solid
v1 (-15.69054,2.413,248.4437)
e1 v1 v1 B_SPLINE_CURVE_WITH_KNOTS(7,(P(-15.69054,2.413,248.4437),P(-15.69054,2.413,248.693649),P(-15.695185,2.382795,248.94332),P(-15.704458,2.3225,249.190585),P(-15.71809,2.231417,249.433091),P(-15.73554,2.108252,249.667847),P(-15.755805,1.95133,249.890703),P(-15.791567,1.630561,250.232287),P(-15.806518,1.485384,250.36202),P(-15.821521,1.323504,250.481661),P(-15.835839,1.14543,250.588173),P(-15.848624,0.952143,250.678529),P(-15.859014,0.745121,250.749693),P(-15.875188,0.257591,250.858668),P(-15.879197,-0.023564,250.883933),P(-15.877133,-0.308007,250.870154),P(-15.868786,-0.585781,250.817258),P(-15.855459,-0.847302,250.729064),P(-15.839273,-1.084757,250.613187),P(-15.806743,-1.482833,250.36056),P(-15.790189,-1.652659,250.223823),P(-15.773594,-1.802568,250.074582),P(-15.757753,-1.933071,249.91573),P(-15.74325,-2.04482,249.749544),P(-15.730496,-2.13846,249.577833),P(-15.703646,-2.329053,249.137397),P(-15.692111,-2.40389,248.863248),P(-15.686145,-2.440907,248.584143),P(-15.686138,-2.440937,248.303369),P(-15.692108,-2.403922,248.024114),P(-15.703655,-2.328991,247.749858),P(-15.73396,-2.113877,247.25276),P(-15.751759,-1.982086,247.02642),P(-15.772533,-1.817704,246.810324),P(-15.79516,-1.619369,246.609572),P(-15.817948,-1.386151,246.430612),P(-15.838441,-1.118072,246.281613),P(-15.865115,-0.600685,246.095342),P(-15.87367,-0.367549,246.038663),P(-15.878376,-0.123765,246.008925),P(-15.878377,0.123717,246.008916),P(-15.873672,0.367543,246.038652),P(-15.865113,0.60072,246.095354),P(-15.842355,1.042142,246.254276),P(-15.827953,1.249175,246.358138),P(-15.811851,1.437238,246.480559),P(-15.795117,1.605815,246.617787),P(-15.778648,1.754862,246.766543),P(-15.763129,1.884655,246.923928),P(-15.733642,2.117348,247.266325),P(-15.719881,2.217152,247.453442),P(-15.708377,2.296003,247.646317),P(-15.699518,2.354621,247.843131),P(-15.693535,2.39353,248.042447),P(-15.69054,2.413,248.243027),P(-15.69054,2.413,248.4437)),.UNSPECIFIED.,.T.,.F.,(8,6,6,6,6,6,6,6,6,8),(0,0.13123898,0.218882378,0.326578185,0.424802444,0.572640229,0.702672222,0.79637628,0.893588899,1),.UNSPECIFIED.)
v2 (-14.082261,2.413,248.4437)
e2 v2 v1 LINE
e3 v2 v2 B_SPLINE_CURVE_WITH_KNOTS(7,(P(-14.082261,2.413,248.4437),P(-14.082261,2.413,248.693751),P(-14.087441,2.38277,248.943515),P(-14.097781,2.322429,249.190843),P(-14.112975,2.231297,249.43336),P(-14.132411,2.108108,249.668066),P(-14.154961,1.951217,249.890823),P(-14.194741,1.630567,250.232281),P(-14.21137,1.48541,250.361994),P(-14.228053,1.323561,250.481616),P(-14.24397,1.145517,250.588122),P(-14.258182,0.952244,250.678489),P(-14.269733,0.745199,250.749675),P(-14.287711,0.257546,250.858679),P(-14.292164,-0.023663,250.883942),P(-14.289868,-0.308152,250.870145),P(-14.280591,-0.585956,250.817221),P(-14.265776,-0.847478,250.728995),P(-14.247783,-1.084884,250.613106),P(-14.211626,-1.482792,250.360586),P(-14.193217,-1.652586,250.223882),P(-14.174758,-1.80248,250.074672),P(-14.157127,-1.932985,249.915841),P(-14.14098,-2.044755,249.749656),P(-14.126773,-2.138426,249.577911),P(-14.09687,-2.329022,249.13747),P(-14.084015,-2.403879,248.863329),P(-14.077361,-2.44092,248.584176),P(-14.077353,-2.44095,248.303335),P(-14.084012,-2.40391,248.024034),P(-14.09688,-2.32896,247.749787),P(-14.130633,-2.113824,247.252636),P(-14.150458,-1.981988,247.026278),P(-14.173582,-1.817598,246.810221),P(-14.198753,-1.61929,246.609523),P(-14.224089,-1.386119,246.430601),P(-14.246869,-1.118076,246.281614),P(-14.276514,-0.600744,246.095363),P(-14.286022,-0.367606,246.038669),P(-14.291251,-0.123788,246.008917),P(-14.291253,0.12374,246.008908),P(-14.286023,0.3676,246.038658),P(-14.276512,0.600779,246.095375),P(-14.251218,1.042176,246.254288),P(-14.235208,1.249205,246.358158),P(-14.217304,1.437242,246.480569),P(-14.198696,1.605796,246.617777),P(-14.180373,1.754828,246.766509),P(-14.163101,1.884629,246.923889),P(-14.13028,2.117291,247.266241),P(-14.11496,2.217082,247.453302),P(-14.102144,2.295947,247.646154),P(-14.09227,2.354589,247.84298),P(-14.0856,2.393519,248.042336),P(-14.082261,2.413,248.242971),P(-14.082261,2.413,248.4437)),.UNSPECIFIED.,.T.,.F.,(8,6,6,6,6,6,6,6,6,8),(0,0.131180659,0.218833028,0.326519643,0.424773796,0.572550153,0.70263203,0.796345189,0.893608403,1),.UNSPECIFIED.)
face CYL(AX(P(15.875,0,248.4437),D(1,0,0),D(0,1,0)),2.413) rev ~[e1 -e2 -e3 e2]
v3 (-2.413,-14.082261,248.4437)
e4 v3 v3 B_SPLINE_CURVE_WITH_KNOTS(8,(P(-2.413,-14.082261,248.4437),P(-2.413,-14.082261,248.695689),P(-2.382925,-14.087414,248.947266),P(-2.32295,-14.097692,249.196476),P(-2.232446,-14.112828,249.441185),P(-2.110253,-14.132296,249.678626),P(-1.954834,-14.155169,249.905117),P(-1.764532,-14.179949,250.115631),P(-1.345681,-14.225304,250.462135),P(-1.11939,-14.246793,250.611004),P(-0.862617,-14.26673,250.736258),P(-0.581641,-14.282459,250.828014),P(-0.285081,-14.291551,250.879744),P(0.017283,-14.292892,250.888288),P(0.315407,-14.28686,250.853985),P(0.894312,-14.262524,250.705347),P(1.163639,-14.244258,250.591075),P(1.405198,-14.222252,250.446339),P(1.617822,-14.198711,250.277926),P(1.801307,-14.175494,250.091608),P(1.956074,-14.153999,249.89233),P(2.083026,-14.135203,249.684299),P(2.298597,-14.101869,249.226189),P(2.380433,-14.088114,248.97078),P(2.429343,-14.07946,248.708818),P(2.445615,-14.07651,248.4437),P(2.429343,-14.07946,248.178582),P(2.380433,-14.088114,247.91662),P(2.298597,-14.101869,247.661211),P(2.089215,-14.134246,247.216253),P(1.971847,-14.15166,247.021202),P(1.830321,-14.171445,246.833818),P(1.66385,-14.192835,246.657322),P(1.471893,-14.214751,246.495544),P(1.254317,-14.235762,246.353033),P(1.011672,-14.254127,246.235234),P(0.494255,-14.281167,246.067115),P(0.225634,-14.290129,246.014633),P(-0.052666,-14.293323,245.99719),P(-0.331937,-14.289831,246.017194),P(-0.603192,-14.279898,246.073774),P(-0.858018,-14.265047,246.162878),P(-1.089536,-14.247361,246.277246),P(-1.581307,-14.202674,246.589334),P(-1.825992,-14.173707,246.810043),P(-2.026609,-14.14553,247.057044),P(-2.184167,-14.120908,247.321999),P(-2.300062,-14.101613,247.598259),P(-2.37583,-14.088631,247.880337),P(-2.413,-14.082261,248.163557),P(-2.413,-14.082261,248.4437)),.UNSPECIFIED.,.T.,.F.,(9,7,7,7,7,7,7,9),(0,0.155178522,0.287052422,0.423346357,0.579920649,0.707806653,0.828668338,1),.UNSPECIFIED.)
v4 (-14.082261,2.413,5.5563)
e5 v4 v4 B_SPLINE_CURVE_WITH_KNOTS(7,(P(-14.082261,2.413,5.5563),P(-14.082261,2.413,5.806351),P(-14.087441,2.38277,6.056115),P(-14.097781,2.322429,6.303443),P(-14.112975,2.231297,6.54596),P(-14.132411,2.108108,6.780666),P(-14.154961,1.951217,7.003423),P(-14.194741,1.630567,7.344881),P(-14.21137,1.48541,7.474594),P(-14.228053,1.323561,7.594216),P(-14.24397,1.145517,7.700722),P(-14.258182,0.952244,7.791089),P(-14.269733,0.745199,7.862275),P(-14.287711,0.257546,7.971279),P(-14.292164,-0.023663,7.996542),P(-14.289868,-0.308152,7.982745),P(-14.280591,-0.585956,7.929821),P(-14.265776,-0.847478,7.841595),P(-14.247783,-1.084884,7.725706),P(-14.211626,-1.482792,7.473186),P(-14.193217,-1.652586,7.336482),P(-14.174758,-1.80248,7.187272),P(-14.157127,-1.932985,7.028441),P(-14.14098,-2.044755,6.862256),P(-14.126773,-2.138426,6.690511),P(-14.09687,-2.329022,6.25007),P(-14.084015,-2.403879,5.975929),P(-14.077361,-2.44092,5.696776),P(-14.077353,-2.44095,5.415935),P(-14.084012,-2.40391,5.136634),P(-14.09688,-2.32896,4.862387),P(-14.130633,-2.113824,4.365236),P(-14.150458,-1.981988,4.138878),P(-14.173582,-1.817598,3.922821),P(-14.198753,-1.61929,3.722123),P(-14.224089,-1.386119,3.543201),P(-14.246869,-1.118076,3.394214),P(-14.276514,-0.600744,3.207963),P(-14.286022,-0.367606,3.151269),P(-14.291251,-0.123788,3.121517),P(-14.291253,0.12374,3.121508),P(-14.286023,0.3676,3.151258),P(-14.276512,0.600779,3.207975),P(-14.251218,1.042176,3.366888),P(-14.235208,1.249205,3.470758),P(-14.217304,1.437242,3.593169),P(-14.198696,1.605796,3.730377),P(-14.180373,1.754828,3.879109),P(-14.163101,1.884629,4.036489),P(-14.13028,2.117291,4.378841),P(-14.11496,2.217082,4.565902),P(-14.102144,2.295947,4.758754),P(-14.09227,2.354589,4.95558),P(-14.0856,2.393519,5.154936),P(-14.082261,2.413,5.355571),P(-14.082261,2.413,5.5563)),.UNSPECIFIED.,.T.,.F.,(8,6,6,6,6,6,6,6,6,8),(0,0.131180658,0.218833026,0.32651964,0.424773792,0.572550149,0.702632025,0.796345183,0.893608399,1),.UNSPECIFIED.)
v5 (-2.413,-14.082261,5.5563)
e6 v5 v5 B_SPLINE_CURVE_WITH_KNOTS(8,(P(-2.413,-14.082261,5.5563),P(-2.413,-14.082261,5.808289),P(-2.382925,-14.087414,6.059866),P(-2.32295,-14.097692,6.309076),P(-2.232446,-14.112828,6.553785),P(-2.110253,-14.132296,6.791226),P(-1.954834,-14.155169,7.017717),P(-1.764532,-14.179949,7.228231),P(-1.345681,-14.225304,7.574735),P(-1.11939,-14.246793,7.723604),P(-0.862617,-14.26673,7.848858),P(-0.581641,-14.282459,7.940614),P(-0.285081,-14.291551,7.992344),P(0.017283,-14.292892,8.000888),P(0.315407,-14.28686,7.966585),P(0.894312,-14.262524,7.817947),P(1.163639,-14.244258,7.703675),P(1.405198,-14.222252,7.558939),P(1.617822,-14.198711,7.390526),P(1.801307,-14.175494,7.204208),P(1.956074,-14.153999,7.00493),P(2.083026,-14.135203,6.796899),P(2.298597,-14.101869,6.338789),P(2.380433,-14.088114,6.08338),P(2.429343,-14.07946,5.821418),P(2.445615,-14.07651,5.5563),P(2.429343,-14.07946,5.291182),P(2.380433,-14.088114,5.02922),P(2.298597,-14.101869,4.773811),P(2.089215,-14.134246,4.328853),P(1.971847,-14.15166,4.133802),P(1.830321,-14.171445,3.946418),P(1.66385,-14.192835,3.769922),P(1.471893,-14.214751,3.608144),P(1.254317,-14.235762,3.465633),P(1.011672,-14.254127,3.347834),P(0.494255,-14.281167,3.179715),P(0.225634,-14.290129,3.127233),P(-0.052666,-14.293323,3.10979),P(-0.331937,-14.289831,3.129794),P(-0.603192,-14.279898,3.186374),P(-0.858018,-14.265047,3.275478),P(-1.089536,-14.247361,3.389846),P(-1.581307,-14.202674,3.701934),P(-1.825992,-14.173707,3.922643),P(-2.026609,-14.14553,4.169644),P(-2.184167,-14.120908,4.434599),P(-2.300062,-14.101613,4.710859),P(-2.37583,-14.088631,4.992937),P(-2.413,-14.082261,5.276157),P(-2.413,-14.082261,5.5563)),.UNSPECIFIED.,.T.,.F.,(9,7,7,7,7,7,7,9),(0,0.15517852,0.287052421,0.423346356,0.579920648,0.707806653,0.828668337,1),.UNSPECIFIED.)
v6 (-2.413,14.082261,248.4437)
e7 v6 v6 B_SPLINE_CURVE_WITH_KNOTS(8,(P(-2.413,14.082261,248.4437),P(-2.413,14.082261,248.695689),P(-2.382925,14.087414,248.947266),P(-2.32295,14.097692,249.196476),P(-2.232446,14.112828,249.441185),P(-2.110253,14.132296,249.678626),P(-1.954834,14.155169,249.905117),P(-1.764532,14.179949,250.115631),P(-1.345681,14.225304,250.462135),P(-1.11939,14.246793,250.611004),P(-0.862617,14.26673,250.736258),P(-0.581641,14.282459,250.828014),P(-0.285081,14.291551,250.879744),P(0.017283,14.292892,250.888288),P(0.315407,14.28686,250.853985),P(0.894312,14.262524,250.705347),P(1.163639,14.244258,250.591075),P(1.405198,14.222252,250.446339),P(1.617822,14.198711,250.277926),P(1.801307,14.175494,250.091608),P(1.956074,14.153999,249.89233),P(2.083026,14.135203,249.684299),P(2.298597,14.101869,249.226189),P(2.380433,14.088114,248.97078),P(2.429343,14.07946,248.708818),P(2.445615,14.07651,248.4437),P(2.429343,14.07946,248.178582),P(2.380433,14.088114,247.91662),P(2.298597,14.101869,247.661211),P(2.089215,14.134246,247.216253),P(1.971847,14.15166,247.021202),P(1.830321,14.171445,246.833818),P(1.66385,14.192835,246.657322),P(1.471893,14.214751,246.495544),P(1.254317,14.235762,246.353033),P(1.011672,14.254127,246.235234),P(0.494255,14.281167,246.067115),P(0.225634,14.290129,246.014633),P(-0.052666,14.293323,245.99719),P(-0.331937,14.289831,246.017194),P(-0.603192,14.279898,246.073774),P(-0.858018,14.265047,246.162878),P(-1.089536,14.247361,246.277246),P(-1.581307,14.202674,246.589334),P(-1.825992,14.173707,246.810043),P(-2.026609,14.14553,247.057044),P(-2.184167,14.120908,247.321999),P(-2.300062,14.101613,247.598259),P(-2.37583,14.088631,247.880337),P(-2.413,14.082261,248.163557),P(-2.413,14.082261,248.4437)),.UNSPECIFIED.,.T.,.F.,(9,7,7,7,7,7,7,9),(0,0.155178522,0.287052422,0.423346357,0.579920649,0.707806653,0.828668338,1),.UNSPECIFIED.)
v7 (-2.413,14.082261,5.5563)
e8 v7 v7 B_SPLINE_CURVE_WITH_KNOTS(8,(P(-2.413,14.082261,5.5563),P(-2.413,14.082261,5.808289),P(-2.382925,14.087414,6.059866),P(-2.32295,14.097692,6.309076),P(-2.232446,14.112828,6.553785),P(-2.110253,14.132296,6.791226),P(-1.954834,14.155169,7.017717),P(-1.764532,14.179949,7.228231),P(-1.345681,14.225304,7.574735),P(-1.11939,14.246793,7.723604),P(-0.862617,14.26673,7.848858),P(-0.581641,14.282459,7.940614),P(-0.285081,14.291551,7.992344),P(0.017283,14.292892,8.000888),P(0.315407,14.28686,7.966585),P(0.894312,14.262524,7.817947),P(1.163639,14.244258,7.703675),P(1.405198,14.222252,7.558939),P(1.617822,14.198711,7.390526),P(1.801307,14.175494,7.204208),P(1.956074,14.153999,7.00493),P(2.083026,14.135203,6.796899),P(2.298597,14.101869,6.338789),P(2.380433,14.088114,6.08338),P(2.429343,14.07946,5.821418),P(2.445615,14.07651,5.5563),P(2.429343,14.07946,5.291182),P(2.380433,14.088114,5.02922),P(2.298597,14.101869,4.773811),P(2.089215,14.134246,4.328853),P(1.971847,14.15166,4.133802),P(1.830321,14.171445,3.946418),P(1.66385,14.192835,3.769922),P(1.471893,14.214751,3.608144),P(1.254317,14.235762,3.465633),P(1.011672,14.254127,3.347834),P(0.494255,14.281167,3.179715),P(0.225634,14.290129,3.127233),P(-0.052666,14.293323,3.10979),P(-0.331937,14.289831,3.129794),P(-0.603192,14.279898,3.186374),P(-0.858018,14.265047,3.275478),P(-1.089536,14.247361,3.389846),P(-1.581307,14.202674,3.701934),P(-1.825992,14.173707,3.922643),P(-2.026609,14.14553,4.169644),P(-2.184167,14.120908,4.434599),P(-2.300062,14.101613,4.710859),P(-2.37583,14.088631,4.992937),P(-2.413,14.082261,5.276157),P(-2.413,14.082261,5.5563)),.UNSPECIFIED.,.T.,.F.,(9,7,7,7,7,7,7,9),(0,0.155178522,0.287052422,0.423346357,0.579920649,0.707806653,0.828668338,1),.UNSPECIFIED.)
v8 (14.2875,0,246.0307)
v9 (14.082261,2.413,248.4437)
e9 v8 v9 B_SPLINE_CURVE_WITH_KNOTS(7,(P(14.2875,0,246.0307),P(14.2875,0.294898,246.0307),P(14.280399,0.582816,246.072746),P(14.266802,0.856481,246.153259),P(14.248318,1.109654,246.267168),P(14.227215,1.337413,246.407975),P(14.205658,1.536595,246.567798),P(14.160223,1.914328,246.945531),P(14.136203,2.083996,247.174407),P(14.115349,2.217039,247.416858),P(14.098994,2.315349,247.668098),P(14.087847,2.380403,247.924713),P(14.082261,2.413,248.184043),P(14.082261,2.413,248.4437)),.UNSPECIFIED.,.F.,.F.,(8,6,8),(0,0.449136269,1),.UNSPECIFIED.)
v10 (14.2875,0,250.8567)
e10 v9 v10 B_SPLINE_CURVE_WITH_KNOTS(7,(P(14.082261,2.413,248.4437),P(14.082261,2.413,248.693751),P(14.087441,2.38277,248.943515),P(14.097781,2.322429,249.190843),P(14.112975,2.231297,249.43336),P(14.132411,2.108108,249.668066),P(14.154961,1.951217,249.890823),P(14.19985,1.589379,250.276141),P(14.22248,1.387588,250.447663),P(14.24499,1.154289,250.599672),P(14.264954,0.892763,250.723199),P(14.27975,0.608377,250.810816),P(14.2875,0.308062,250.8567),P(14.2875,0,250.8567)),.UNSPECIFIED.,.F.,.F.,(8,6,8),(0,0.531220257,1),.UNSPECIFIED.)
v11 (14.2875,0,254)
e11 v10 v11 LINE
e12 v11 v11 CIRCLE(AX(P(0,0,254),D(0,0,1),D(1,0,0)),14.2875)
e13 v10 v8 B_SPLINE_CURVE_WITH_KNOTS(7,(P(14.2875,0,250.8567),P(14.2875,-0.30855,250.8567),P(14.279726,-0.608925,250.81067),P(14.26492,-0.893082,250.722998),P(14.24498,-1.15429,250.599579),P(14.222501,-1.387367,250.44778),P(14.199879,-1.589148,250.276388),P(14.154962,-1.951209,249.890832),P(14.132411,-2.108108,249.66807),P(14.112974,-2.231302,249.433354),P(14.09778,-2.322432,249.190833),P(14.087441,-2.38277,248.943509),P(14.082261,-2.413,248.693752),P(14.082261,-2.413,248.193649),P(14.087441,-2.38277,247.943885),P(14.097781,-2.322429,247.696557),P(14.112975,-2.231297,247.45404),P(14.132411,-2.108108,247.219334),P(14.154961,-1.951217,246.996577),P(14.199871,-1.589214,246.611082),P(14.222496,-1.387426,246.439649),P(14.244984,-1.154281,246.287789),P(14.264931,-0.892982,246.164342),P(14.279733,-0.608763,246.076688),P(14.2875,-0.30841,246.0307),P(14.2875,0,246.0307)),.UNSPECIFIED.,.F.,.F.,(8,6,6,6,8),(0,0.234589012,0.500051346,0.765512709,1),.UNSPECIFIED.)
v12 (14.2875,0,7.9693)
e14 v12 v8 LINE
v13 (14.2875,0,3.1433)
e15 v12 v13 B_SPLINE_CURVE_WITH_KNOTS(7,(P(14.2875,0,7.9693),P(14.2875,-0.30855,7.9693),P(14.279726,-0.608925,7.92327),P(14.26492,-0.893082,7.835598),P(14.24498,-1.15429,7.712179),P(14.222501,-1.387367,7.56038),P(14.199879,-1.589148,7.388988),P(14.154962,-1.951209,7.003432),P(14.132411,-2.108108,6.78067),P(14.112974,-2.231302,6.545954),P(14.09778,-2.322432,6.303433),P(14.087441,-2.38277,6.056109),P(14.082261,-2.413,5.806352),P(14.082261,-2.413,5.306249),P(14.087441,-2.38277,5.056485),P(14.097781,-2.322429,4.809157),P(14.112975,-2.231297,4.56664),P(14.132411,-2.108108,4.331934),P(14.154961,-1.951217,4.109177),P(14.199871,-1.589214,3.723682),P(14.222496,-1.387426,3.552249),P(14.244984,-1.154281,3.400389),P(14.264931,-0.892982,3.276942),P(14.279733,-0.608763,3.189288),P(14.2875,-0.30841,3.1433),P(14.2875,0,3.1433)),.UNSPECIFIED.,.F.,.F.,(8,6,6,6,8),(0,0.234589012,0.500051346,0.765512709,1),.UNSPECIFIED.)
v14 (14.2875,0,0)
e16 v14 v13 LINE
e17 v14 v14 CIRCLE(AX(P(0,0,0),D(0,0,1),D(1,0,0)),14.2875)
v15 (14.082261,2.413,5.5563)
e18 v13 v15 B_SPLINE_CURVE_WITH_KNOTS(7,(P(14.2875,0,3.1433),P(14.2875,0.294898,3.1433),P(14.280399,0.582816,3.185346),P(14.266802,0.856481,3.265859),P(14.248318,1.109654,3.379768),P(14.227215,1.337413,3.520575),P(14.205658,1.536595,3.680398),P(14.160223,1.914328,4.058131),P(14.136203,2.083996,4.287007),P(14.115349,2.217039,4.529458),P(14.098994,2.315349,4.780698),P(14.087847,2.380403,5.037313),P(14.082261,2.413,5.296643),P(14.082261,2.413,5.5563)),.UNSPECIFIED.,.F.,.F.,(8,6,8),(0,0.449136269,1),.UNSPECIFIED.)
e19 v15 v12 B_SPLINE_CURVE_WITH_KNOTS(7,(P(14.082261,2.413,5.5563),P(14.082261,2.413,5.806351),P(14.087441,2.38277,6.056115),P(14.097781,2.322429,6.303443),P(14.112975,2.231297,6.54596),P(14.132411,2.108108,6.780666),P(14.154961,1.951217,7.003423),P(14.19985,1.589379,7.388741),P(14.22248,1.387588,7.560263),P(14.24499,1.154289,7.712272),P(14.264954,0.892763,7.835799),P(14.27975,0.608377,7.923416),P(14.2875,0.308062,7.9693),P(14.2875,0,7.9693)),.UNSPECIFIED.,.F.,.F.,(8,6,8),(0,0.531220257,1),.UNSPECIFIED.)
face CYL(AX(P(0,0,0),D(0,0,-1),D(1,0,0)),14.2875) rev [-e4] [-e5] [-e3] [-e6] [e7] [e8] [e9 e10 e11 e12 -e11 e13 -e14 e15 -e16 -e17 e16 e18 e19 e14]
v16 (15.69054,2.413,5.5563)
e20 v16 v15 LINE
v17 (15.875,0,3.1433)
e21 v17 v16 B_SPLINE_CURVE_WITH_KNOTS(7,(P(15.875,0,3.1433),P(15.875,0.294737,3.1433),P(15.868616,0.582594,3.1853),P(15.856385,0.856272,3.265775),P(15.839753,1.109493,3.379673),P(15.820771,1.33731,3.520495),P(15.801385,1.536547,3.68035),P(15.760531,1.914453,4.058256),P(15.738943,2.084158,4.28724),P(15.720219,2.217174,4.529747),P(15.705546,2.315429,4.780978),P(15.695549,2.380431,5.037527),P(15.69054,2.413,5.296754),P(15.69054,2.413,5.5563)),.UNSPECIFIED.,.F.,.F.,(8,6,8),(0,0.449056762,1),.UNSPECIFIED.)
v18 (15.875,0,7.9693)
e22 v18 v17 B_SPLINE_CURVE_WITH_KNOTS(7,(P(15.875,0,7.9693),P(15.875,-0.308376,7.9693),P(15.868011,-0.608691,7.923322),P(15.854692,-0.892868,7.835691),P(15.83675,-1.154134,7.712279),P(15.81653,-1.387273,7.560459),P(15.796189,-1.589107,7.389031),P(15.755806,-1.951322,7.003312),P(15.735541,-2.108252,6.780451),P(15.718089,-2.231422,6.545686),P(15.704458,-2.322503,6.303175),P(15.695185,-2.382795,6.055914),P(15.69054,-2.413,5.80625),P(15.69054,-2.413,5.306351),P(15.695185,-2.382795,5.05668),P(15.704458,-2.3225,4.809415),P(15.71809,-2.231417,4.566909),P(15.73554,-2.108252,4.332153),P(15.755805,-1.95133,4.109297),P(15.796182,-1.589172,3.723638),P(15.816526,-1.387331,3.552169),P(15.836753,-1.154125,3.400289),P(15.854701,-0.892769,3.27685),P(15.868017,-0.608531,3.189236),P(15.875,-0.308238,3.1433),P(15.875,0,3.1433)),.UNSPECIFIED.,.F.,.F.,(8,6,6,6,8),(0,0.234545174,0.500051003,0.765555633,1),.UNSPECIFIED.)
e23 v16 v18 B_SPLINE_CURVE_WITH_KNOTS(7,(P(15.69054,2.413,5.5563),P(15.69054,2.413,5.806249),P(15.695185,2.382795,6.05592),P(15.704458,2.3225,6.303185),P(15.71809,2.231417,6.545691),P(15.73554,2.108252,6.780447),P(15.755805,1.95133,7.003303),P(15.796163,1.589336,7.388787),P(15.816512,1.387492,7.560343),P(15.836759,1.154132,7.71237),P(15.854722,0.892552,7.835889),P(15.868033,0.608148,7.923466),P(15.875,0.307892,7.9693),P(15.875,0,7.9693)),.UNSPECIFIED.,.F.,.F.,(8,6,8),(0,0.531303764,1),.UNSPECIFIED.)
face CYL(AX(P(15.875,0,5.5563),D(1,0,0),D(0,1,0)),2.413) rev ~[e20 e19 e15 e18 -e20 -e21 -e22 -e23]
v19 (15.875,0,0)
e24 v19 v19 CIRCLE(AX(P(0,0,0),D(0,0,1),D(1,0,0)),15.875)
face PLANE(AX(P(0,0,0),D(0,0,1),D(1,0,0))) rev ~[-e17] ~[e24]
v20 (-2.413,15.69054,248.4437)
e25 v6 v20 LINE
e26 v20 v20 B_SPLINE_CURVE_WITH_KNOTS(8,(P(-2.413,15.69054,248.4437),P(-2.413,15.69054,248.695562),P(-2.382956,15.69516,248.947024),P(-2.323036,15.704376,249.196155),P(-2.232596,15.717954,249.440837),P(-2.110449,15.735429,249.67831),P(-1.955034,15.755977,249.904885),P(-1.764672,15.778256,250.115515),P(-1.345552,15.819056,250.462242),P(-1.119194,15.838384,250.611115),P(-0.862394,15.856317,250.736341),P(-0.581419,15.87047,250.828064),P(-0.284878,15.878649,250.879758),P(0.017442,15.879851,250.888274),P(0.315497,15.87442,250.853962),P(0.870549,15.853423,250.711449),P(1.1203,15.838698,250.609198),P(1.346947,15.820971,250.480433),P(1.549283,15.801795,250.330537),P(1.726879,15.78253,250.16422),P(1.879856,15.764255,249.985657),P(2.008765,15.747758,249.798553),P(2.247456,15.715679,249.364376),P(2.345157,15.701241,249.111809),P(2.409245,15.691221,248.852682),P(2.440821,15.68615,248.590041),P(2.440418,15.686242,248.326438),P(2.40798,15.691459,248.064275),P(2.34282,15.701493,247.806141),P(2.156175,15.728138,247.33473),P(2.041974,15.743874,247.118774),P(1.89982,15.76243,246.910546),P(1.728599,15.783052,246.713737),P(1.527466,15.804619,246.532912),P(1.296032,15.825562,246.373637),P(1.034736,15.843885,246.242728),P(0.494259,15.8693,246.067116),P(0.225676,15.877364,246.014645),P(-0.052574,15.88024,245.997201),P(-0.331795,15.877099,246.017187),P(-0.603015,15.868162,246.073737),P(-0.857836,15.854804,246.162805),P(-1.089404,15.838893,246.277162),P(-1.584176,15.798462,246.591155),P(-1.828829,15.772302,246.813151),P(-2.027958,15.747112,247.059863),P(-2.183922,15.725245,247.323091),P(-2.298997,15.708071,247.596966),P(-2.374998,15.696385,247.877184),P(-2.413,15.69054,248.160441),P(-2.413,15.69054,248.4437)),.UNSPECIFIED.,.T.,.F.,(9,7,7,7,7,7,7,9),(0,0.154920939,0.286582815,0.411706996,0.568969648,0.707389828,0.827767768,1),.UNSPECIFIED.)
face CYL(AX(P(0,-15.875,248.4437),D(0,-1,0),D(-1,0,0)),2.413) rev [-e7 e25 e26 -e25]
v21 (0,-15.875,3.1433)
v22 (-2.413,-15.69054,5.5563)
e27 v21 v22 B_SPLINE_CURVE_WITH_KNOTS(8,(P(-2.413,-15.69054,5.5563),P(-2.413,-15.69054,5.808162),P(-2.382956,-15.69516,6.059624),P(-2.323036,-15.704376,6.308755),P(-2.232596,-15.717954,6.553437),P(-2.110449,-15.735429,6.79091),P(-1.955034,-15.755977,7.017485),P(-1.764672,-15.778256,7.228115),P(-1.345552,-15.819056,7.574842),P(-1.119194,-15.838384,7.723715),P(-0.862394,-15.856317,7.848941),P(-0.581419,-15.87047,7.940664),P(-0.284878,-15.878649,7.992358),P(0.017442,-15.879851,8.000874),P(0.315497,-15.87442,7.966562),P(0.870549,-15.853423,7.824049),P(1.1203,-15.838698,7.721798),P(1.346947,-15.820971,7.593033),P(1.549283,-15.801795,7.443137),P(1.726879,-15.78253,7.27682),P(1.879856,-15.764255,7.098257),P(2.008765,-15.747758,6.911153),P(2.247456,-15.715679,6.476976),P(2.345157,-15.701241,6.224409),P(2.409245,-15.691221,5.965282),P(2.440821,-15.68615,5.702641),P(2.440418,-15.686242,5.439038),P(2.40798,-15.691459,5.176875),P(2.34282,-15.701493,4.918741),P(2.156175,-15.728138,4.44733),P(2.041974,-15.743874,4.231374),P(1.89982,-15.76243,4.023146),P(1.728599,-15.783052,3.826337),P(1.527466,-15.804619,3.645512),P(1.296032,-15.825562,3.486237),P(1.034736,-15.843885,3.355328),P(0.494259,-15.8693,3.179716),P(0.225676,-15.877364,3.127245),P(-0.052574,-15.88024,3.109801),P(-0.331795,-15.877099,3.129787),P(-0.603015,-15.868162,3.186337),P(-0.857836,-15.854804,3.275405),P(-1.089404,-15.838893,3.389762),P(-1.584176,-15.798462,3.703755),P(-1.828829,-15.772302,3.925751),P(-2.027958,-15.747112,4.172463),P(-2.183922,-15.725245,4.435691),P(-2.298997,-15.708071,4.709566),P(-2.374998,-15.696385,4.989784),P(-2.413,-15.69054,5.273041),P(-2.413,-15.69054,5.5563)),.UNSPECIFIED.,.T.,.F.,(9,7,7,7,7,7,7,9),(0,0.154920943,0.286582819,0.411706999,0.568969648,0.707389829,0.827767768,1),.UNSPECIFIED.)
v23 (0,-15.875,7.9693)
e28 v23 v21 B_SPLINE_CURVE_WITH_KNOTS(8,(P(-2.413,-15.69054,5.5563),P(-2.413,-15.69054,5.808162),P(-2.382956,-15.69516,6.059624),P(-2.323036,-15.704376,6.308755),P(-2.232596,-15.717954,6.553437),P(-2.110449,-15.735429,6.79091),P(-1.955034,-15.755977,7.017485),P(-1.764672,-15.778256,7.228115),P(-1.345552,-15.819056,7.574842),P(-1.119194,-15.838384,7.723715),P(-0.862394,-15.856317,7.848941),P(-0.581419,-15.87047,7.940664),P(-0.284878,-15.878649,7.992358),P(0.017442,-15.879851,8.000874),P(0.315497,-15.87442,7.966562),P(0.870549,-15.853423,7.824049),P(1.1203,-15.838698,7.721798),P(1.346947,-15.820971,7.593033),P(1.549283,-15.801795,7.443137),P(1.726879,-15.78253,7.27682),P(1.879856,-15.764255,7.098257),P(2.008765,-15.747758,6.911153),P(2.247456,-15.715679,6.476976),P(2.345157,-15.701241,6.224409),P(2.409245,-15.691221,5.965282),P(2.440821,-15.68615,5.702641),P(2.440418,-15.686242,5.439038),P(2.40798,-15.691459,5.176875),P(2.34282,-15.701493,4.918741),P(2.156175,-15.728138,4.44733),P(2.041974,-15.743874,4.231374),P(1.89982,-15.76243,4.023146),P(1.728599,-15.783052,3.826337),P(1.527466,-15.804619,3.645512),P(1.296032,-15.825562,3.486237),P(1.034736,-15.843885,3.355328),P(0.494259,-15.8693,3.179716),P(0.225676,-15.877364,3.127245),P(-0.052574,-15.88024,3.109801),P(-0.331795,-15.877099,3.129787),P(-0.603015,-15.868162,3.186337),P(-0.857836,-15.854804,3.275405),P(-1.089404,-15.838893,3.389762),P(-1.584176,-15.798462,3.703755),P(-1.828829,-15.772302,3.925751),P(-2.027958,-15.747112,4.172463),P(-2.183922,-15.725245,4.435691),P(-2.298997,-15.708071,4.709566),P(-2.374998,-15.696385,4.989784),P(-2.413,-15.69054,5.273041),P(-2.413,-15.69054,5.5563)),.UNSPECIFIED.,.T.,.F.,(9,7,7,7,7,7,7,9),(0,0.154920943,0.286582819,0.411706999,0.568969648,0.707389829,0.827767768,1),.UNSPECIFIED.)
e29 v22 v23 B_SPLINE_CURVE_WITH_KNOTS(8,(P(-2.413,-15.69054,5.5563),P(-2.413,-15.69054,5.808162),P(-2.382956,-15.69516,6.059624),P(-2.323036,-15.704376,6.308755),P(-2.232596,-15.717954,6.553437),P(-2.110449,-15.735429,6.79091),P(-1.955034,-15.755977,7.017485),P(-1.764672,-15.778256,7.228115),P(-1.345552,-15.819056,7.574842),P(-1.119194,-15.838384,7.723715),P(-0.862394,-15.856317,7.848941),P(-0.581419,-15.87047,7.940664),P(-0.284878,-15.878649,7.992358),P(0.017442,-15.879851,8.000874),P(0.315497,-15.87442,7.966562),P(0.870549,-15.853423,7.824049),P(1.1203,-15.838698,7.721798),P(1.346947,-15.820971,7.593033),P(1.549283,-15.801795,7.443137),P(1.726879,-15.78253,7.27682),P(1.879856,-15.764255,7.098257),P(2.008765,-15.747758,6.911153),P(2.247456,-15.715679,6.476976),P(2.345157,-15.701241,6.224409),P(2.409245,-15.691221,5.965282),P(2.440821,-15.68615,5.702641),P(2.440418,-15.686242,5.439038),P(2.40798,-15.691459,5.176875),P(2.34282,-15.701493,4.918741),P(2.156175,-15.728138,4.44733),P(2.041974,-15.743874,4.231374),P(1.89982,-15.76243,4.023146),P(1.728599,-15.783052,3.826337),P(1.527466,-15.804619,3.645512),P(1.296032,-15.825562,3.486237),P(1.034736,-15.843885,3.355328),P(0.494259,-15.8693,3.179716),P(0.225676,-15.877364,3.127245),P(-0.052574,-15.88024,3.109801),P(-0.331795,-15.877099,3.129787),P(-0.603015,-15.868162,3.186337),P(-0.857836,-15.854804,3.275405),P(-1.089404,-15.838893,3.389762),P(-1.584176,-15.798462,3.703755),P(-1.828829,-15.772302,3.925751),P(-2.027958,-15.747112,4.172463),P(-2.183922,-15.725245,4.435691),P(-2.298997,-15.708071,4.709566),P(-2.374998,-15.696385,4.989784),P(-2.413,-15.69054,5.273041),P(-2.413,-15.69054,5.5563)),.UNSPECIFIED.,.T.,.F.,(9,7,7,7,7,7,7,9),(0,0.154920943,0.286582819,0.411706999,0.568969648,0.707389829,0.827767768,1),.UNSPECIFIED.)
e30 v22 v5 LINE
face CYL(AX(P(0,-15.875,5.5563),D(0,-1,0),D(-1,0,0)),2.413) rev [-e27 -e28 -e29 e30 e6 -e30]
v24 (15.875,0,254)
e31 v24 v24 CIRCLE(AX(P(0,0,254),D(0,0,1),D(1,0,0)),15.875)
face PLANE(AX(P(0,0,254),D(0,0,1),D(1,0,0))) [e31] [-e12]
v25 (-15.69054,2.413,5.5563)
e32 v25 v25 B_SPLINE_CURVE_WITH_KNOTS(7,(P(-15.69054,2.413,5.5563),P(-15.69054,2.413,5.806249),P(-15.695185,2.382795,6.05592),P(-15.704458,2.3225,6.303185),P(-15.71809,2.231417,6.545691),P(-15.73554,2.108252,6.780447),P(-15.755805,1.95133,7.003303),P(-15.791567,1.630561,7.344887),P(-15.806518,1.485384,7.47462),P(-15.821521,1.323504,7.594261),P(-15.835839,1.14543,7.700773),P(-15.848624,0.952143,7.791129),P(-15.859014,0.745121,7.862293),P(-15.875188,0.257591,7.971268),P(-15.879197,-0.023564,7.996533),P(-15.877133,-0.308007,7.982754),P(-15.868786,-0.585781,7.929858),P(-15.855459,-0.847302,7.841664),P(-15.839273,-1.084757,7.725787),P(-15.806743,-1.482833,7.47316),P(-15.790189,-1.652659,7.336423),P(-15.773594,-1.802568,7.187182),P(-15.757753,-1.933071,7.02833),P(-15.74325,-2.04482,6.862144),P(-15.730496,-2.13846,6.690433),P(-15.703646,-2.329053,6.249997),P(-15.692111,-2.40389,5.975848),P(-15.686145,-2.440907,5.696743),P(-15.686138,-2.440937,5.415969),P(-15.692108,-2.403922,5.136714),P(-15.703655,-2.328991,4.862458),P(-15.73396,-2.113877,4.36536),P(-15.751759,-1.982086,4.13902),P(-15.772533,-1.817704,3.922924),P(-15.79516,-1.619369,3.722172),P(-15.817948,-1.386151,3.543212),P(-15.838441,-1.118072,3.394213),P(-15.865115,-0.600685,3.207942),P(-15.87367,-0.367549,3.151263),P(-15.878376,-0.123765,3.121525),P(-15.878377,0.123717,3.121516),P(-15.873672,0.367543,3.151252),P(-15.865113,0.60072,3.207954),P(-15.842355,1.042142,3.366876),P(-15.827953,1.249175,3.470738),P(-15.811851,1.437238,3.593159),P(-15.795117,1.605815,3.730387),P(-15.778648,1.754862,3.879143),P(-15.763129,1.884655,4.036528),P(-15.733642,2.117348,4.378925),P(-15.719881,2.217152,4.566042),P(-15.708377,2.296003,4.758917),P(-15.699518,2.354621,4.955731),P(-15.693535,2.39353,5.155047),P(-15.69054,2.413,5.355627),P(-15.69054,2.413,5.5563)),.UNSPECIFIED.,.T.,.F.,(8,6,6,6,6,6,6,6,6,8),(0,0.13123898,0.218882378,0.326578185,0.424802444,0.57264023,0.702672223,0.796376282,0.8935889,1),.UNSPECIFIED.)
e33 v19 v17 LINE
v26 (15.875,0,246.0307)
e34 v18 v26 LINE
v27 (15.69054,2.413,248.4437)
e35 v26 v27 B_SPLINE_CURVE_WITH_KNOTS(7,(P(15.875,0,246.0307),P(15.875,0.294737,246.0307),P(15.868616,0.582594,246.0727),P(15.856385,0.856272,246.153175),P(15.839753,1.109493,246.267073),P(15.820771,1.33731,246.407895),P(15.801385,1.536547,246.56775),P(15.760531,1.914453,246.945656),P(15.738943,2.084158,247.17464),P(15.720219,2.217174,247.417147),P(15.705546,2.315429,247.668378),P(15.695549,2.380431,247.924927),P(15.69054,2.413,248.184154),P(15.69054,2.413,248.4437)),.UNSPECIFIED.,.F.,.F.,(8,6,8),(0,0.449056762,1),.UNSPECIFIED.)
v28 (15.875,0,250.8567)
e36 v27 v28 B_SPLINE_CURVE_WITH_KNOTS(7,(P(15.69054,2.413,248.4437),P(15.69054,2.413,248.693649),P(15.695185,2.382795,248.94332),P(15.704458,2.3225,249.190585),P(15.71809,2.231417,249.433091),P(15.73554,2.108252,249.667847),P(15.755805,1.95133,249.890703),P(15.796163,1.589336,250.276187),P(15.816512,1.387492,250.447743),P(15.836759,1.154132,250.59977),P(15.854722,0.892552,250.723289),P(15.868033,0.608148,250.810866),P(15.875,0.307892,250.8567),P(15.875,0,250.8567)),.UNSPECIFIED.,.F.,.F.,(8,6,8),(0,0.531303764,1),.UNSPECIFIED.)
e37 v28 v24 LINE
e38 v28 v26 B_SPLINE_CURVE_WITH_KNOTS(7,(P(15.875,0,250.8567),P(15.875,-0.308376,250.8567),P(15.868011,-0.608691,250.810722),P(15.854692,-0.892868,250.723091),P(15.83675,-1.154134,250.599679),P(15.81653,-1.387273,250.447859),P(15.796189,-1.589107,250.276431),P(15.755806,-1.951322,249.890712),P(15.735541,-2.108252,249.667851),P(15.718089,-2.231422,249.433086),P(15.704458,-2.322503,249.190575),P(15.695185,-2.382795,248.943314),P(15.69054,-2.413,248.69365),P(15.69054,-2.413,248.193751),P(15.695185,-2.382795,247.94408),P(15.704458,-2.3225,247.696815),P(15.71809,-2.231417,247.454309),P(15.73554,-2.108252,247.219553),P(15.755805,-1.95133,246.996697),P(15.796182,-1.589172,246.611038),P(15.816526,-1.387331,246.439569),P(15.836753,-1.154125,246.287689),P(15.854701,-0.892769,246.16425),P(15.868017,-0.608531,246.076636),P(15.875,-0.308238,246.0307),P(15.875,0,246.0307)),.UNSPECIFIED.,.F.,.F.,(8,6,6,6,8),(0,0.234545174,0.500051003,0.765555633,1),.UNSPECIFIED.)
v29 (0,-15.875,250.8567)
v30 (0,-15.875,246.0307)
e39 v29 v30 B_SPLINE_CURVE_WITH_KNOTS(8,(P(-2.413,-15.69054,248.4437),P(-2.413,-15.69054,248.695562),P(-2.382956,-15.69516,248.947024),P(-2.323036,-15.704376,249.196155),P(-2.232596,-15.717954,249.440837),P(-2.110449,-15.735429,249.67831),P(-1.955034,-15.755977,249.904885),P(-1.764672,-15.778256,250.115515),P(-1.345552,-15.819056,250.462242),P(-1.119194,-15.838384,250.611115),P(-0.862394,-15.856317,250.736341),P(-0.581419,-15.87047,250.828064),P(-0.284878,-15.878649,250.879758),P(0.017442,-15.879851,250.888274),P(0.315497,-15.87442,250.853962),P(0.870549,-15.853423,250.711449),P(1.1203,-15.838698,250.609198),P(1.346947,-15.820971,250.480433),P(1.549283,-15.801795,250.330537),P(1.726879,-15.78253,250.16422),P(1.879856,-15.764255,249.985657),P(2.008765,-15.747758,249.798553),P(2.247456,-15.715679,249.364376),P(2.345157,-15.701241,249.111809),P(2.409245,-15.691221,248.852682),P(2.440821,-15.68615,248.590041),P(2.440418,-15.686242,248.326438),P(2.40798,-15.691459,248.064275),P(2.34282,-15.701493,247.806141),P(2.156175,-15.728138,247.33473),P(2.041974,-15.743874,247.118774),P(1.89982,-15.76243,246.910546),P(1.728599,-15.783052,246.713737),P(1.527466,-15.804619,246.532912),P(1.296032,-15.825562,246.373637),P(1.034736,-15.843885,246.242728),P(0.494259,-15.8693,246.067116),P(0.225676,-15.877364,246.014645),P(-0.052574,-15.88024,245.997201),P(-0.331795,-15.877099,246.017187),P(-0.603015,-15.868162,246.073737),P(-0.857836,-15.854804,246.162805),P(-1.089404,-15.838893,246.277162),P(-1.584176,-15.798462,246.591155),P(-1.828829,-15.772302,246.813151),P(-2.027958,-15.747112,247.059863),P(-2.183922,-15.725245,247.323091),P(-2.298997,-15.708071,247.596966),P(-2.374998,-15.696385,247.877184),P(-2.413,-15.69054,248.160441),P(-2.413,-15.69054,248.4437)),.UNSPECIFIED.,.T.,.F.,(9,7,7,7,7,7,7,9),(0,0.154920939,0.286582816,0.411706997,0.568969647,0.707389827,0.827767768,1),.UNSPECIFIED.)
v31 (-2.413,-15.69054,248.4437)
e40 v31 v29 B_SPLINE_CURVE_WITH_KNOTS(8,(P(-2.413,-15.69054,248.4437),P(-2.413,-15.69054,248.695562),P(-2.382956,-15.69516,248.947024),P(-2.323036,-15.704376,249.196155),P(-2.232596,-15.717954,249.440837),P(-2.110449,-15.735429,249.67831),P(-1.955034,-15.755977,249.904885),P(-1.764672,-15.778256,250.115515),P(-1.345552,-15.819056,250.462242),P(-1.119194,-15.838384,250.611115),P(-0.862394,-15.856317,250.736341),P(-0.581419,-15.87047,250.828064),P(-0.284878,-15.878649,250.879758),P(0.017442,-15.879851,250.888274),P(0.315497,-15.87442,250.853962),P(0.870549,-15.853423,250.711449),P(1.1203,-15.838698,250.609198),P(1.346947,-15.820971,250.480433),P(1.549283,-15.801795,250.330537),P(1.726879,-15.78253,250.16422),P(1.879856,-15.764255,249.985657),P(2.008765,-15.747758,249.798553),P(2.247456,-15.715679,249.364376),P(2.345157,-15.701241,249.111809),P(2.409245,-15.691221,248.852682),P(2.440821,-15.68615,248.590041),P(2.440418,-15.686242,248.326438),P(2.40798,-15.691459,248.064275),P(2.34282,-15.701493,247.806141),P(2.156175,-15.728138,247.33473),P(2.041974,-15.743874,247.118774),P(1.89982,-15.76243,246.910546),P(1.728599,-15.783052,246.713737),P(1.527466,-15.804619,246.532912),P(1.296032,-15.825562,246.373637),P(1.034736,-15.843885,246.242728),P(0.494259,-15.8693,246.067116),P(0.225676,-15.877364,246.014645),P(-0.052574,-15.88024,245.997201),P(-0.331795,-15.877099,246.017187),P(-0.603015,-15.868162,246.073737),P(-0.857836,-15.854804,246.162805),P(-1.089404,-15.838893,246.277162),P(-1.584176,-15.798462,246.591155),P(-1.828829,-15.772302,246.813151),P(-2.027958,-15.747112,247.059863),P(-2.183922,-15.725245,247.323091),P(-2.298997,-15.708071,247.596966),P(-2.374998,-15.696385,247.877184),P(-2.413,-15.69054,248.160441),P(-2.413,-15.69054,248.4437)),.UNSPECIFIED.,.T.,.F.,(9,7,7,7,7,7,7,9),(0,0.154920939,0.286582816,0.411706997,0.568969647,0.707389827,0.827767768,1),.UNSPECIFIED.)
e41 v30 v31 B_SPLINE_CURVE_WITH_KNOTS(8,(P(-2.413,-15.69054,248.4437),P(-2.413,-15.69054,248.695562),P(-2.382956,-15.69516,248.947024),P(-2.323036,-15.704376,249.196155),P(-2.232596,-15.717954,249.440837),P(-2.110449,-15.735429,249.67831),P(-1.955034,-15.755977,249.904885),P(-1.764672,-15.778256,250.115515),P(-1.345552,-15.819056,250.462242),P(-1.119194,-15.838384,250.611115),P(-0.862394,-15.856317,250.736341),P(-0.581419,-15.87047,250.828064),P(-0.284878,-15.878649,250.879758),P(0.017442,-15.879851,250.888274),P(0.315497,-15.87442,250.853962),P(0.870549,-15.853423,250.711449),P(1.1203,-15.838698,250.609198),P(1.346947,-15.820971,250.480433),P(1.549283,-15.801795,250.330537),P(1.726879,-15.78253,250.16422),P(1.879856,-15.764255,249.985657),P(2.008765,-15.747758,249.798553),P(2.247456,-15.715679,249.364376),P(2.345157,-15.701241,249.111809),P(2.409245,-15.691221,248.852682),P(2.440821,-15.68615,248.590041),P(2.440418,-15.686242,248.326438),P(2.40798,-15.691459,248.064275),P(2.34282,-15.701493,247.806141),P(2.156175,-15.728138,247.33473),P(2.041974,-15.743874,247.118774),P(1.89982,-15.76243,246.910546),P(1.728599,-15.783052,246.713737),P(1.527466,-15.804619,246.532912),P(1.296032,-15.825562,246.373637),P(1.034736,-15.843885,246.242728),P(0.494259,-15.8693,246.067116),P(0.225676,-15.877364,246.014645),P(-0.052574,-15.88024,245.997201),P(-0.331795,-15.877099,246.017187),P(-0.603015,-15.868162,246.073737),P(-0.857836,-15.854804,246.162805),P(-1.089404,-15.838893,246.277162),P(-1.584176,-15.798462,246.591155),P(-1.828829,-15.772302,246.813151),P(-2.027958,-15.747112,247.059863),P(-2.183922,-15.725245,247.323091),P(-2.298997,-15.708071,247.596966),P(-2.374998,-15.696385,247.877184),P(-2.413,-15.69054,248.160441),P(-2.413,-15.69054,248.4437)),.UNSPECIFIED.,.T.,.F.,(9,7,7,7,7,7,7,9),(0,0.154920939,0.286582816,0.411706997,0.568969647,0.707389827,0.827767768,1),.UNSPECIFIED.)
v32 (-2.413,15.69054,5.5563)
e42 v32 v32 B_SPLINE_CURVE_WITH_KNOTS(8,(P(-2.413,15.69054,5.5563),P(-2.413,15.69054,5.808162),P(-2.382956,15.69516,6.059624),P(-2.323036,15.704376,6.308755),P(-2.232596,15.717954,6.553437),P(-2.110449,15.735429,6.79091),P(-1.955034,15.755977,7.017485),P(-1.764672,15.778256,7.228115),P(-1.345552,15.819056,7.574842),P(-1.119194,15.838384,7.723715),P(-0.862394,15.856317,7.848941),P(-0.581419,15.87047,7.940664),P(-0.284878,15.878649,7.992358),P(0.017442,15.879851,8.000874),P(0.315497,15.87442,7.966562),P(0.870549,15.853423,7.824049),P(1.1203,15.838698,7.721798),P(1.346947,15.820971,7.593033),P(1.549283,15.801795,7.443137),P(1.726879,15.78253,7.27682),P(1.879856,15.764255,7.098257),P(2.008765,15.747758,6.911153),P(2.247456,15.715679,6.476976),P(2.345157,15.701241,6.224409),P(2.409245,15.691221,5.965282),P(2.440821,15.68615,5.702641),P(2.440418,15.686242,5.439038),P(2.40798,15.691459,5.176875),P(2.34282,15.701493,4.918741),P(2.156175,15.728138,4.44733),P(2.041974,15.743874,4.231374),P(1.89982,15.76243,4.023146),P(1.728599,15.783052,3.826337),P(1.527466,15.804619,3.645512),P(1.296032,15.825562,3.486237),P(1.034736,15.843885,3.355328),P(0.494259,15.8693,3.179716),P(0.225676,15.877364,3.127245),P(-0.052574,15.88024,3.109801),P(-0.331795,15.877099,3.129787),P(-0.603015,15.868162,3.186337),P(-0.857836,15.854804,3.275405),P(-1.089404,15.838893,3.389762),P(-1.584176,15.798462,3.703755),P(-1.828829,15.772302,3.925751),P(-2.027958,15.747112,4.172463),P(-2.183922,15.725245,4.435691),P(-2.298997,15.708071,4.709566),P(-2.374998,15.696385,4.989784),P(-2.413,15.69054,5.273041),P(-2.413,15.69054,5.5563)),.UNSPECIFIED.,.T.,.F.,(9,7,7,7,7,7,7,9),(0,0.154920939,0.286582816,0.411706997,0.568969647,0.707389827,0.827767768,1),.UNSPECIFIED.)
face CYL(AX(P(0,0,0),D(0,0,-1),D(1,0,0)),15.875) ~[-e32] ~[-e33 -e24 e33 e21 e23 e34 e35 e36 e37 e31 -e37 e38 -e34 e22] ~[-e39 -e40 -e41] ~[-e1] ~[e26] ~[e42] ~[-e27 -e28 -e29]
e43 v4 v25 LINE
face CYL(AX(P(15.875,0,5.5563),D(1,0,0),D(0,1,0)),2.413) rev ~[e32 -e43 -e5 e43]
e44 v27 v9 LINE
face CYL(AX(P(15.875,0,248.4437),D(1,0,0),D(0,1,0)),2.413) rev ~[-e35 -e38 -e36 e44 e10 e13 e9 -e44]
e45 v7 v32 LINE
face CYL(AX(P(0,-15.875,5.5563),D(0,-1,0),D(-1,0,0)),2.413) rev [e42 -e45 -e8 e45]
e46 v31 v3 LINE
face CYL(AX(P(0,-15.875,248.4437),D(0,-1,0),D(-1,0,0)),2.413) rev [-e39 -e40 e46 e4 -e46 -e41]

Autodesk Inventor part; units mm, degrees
ref_plane "XY Plane" through (0, 0, 0) normal (0, 0, 1) x (1, 0, 0)
sketch "Sketch1" plane through (0, 0, 0) normal (0, 0, 1) x (1, 0, 0)
  circle A0 centre (0, 0) radius 15.875
  circle A1 centre (0, 0) radius 14.2875
  dimension "d0" = 31.75
  dimension "d1" = 28.575
extrude "Extrusion1" add sketch "Sketch1" along normal blind 254
ref_plane "Work Plane1" through (0, -15.875, 0) normal (0, 1, 0) x (-1, 0, 0)
sketch "Sketch2" plane through (0, -15.875, 0) normal (0, 1, 0) x (-1, 0, 0)
  line L0 (15.875, 254) -> (-15.875, 254) projected
  line L1 (-15.875, 0) -> (15.875, 0) projected
  line L2 (18.6459, 127) -> (-13.1041, 127) construction
  line L3 (15.875, 0) -> (15.875, 254) construction
  line L4 (-15.875, 0) -> (-15.875, 254) construction
  circle A0 centre (0, 5.5563) radius 2.413
  circle A1 centre (0, 248.4437) radius 2.413
  point P0 (0, 0)
  dimension "d4" = 127
  dimension "d5" = 4.826
  dimension "d6" = 5.5563
  dimension "d7" = 15.875
extrude "Extrusion2" cut sketch "Sketch2" along normal blind 50.8
ref_plane "Work Plane2" through (15.875, 0, 0) normal (1, 0, 0) x (0, 1, 0)
sketch "Sketch3" plane through (15.875, 0, 0) normal (1, 0, 0) x (0, 1, 0)
  line L0 (-15.875, 0) -> (15.875, 0) projected
  line L1 (15.875, 0) -> (15.875, 254) projected
  line L2 (-15.875, 0) -> (-15.875, 254) projected
  line L3 (15.875, 254) -> (-15.875, 254) projected
  line L4 (15.875, 127) -> (-15.875, 127) construction
  circle A0 centre (0, 5.5563) radius 2.413
  circle A1 centre (0, 248.4437) radius 2.413
  point P0 (0, 0)
  dimension "d10" = 127
  dimension "d11" = 4.826
  dimension "d12" = 5.5563
  dimension "d13" = 15.875
extrude "Extrusion3" cut sketch "Sketch3" against normal blind 50.8 contours A0 | A1
equation "\"d4\" = 0.5 * d2"
equation "\"d10\" = 0.5 * d2"
equation "\"d2\" = 254"
properties part number "Polycarbonate Roller 1.25 OD 1.125 ID (8585K63)" material "Polycarbonate, Clear"
